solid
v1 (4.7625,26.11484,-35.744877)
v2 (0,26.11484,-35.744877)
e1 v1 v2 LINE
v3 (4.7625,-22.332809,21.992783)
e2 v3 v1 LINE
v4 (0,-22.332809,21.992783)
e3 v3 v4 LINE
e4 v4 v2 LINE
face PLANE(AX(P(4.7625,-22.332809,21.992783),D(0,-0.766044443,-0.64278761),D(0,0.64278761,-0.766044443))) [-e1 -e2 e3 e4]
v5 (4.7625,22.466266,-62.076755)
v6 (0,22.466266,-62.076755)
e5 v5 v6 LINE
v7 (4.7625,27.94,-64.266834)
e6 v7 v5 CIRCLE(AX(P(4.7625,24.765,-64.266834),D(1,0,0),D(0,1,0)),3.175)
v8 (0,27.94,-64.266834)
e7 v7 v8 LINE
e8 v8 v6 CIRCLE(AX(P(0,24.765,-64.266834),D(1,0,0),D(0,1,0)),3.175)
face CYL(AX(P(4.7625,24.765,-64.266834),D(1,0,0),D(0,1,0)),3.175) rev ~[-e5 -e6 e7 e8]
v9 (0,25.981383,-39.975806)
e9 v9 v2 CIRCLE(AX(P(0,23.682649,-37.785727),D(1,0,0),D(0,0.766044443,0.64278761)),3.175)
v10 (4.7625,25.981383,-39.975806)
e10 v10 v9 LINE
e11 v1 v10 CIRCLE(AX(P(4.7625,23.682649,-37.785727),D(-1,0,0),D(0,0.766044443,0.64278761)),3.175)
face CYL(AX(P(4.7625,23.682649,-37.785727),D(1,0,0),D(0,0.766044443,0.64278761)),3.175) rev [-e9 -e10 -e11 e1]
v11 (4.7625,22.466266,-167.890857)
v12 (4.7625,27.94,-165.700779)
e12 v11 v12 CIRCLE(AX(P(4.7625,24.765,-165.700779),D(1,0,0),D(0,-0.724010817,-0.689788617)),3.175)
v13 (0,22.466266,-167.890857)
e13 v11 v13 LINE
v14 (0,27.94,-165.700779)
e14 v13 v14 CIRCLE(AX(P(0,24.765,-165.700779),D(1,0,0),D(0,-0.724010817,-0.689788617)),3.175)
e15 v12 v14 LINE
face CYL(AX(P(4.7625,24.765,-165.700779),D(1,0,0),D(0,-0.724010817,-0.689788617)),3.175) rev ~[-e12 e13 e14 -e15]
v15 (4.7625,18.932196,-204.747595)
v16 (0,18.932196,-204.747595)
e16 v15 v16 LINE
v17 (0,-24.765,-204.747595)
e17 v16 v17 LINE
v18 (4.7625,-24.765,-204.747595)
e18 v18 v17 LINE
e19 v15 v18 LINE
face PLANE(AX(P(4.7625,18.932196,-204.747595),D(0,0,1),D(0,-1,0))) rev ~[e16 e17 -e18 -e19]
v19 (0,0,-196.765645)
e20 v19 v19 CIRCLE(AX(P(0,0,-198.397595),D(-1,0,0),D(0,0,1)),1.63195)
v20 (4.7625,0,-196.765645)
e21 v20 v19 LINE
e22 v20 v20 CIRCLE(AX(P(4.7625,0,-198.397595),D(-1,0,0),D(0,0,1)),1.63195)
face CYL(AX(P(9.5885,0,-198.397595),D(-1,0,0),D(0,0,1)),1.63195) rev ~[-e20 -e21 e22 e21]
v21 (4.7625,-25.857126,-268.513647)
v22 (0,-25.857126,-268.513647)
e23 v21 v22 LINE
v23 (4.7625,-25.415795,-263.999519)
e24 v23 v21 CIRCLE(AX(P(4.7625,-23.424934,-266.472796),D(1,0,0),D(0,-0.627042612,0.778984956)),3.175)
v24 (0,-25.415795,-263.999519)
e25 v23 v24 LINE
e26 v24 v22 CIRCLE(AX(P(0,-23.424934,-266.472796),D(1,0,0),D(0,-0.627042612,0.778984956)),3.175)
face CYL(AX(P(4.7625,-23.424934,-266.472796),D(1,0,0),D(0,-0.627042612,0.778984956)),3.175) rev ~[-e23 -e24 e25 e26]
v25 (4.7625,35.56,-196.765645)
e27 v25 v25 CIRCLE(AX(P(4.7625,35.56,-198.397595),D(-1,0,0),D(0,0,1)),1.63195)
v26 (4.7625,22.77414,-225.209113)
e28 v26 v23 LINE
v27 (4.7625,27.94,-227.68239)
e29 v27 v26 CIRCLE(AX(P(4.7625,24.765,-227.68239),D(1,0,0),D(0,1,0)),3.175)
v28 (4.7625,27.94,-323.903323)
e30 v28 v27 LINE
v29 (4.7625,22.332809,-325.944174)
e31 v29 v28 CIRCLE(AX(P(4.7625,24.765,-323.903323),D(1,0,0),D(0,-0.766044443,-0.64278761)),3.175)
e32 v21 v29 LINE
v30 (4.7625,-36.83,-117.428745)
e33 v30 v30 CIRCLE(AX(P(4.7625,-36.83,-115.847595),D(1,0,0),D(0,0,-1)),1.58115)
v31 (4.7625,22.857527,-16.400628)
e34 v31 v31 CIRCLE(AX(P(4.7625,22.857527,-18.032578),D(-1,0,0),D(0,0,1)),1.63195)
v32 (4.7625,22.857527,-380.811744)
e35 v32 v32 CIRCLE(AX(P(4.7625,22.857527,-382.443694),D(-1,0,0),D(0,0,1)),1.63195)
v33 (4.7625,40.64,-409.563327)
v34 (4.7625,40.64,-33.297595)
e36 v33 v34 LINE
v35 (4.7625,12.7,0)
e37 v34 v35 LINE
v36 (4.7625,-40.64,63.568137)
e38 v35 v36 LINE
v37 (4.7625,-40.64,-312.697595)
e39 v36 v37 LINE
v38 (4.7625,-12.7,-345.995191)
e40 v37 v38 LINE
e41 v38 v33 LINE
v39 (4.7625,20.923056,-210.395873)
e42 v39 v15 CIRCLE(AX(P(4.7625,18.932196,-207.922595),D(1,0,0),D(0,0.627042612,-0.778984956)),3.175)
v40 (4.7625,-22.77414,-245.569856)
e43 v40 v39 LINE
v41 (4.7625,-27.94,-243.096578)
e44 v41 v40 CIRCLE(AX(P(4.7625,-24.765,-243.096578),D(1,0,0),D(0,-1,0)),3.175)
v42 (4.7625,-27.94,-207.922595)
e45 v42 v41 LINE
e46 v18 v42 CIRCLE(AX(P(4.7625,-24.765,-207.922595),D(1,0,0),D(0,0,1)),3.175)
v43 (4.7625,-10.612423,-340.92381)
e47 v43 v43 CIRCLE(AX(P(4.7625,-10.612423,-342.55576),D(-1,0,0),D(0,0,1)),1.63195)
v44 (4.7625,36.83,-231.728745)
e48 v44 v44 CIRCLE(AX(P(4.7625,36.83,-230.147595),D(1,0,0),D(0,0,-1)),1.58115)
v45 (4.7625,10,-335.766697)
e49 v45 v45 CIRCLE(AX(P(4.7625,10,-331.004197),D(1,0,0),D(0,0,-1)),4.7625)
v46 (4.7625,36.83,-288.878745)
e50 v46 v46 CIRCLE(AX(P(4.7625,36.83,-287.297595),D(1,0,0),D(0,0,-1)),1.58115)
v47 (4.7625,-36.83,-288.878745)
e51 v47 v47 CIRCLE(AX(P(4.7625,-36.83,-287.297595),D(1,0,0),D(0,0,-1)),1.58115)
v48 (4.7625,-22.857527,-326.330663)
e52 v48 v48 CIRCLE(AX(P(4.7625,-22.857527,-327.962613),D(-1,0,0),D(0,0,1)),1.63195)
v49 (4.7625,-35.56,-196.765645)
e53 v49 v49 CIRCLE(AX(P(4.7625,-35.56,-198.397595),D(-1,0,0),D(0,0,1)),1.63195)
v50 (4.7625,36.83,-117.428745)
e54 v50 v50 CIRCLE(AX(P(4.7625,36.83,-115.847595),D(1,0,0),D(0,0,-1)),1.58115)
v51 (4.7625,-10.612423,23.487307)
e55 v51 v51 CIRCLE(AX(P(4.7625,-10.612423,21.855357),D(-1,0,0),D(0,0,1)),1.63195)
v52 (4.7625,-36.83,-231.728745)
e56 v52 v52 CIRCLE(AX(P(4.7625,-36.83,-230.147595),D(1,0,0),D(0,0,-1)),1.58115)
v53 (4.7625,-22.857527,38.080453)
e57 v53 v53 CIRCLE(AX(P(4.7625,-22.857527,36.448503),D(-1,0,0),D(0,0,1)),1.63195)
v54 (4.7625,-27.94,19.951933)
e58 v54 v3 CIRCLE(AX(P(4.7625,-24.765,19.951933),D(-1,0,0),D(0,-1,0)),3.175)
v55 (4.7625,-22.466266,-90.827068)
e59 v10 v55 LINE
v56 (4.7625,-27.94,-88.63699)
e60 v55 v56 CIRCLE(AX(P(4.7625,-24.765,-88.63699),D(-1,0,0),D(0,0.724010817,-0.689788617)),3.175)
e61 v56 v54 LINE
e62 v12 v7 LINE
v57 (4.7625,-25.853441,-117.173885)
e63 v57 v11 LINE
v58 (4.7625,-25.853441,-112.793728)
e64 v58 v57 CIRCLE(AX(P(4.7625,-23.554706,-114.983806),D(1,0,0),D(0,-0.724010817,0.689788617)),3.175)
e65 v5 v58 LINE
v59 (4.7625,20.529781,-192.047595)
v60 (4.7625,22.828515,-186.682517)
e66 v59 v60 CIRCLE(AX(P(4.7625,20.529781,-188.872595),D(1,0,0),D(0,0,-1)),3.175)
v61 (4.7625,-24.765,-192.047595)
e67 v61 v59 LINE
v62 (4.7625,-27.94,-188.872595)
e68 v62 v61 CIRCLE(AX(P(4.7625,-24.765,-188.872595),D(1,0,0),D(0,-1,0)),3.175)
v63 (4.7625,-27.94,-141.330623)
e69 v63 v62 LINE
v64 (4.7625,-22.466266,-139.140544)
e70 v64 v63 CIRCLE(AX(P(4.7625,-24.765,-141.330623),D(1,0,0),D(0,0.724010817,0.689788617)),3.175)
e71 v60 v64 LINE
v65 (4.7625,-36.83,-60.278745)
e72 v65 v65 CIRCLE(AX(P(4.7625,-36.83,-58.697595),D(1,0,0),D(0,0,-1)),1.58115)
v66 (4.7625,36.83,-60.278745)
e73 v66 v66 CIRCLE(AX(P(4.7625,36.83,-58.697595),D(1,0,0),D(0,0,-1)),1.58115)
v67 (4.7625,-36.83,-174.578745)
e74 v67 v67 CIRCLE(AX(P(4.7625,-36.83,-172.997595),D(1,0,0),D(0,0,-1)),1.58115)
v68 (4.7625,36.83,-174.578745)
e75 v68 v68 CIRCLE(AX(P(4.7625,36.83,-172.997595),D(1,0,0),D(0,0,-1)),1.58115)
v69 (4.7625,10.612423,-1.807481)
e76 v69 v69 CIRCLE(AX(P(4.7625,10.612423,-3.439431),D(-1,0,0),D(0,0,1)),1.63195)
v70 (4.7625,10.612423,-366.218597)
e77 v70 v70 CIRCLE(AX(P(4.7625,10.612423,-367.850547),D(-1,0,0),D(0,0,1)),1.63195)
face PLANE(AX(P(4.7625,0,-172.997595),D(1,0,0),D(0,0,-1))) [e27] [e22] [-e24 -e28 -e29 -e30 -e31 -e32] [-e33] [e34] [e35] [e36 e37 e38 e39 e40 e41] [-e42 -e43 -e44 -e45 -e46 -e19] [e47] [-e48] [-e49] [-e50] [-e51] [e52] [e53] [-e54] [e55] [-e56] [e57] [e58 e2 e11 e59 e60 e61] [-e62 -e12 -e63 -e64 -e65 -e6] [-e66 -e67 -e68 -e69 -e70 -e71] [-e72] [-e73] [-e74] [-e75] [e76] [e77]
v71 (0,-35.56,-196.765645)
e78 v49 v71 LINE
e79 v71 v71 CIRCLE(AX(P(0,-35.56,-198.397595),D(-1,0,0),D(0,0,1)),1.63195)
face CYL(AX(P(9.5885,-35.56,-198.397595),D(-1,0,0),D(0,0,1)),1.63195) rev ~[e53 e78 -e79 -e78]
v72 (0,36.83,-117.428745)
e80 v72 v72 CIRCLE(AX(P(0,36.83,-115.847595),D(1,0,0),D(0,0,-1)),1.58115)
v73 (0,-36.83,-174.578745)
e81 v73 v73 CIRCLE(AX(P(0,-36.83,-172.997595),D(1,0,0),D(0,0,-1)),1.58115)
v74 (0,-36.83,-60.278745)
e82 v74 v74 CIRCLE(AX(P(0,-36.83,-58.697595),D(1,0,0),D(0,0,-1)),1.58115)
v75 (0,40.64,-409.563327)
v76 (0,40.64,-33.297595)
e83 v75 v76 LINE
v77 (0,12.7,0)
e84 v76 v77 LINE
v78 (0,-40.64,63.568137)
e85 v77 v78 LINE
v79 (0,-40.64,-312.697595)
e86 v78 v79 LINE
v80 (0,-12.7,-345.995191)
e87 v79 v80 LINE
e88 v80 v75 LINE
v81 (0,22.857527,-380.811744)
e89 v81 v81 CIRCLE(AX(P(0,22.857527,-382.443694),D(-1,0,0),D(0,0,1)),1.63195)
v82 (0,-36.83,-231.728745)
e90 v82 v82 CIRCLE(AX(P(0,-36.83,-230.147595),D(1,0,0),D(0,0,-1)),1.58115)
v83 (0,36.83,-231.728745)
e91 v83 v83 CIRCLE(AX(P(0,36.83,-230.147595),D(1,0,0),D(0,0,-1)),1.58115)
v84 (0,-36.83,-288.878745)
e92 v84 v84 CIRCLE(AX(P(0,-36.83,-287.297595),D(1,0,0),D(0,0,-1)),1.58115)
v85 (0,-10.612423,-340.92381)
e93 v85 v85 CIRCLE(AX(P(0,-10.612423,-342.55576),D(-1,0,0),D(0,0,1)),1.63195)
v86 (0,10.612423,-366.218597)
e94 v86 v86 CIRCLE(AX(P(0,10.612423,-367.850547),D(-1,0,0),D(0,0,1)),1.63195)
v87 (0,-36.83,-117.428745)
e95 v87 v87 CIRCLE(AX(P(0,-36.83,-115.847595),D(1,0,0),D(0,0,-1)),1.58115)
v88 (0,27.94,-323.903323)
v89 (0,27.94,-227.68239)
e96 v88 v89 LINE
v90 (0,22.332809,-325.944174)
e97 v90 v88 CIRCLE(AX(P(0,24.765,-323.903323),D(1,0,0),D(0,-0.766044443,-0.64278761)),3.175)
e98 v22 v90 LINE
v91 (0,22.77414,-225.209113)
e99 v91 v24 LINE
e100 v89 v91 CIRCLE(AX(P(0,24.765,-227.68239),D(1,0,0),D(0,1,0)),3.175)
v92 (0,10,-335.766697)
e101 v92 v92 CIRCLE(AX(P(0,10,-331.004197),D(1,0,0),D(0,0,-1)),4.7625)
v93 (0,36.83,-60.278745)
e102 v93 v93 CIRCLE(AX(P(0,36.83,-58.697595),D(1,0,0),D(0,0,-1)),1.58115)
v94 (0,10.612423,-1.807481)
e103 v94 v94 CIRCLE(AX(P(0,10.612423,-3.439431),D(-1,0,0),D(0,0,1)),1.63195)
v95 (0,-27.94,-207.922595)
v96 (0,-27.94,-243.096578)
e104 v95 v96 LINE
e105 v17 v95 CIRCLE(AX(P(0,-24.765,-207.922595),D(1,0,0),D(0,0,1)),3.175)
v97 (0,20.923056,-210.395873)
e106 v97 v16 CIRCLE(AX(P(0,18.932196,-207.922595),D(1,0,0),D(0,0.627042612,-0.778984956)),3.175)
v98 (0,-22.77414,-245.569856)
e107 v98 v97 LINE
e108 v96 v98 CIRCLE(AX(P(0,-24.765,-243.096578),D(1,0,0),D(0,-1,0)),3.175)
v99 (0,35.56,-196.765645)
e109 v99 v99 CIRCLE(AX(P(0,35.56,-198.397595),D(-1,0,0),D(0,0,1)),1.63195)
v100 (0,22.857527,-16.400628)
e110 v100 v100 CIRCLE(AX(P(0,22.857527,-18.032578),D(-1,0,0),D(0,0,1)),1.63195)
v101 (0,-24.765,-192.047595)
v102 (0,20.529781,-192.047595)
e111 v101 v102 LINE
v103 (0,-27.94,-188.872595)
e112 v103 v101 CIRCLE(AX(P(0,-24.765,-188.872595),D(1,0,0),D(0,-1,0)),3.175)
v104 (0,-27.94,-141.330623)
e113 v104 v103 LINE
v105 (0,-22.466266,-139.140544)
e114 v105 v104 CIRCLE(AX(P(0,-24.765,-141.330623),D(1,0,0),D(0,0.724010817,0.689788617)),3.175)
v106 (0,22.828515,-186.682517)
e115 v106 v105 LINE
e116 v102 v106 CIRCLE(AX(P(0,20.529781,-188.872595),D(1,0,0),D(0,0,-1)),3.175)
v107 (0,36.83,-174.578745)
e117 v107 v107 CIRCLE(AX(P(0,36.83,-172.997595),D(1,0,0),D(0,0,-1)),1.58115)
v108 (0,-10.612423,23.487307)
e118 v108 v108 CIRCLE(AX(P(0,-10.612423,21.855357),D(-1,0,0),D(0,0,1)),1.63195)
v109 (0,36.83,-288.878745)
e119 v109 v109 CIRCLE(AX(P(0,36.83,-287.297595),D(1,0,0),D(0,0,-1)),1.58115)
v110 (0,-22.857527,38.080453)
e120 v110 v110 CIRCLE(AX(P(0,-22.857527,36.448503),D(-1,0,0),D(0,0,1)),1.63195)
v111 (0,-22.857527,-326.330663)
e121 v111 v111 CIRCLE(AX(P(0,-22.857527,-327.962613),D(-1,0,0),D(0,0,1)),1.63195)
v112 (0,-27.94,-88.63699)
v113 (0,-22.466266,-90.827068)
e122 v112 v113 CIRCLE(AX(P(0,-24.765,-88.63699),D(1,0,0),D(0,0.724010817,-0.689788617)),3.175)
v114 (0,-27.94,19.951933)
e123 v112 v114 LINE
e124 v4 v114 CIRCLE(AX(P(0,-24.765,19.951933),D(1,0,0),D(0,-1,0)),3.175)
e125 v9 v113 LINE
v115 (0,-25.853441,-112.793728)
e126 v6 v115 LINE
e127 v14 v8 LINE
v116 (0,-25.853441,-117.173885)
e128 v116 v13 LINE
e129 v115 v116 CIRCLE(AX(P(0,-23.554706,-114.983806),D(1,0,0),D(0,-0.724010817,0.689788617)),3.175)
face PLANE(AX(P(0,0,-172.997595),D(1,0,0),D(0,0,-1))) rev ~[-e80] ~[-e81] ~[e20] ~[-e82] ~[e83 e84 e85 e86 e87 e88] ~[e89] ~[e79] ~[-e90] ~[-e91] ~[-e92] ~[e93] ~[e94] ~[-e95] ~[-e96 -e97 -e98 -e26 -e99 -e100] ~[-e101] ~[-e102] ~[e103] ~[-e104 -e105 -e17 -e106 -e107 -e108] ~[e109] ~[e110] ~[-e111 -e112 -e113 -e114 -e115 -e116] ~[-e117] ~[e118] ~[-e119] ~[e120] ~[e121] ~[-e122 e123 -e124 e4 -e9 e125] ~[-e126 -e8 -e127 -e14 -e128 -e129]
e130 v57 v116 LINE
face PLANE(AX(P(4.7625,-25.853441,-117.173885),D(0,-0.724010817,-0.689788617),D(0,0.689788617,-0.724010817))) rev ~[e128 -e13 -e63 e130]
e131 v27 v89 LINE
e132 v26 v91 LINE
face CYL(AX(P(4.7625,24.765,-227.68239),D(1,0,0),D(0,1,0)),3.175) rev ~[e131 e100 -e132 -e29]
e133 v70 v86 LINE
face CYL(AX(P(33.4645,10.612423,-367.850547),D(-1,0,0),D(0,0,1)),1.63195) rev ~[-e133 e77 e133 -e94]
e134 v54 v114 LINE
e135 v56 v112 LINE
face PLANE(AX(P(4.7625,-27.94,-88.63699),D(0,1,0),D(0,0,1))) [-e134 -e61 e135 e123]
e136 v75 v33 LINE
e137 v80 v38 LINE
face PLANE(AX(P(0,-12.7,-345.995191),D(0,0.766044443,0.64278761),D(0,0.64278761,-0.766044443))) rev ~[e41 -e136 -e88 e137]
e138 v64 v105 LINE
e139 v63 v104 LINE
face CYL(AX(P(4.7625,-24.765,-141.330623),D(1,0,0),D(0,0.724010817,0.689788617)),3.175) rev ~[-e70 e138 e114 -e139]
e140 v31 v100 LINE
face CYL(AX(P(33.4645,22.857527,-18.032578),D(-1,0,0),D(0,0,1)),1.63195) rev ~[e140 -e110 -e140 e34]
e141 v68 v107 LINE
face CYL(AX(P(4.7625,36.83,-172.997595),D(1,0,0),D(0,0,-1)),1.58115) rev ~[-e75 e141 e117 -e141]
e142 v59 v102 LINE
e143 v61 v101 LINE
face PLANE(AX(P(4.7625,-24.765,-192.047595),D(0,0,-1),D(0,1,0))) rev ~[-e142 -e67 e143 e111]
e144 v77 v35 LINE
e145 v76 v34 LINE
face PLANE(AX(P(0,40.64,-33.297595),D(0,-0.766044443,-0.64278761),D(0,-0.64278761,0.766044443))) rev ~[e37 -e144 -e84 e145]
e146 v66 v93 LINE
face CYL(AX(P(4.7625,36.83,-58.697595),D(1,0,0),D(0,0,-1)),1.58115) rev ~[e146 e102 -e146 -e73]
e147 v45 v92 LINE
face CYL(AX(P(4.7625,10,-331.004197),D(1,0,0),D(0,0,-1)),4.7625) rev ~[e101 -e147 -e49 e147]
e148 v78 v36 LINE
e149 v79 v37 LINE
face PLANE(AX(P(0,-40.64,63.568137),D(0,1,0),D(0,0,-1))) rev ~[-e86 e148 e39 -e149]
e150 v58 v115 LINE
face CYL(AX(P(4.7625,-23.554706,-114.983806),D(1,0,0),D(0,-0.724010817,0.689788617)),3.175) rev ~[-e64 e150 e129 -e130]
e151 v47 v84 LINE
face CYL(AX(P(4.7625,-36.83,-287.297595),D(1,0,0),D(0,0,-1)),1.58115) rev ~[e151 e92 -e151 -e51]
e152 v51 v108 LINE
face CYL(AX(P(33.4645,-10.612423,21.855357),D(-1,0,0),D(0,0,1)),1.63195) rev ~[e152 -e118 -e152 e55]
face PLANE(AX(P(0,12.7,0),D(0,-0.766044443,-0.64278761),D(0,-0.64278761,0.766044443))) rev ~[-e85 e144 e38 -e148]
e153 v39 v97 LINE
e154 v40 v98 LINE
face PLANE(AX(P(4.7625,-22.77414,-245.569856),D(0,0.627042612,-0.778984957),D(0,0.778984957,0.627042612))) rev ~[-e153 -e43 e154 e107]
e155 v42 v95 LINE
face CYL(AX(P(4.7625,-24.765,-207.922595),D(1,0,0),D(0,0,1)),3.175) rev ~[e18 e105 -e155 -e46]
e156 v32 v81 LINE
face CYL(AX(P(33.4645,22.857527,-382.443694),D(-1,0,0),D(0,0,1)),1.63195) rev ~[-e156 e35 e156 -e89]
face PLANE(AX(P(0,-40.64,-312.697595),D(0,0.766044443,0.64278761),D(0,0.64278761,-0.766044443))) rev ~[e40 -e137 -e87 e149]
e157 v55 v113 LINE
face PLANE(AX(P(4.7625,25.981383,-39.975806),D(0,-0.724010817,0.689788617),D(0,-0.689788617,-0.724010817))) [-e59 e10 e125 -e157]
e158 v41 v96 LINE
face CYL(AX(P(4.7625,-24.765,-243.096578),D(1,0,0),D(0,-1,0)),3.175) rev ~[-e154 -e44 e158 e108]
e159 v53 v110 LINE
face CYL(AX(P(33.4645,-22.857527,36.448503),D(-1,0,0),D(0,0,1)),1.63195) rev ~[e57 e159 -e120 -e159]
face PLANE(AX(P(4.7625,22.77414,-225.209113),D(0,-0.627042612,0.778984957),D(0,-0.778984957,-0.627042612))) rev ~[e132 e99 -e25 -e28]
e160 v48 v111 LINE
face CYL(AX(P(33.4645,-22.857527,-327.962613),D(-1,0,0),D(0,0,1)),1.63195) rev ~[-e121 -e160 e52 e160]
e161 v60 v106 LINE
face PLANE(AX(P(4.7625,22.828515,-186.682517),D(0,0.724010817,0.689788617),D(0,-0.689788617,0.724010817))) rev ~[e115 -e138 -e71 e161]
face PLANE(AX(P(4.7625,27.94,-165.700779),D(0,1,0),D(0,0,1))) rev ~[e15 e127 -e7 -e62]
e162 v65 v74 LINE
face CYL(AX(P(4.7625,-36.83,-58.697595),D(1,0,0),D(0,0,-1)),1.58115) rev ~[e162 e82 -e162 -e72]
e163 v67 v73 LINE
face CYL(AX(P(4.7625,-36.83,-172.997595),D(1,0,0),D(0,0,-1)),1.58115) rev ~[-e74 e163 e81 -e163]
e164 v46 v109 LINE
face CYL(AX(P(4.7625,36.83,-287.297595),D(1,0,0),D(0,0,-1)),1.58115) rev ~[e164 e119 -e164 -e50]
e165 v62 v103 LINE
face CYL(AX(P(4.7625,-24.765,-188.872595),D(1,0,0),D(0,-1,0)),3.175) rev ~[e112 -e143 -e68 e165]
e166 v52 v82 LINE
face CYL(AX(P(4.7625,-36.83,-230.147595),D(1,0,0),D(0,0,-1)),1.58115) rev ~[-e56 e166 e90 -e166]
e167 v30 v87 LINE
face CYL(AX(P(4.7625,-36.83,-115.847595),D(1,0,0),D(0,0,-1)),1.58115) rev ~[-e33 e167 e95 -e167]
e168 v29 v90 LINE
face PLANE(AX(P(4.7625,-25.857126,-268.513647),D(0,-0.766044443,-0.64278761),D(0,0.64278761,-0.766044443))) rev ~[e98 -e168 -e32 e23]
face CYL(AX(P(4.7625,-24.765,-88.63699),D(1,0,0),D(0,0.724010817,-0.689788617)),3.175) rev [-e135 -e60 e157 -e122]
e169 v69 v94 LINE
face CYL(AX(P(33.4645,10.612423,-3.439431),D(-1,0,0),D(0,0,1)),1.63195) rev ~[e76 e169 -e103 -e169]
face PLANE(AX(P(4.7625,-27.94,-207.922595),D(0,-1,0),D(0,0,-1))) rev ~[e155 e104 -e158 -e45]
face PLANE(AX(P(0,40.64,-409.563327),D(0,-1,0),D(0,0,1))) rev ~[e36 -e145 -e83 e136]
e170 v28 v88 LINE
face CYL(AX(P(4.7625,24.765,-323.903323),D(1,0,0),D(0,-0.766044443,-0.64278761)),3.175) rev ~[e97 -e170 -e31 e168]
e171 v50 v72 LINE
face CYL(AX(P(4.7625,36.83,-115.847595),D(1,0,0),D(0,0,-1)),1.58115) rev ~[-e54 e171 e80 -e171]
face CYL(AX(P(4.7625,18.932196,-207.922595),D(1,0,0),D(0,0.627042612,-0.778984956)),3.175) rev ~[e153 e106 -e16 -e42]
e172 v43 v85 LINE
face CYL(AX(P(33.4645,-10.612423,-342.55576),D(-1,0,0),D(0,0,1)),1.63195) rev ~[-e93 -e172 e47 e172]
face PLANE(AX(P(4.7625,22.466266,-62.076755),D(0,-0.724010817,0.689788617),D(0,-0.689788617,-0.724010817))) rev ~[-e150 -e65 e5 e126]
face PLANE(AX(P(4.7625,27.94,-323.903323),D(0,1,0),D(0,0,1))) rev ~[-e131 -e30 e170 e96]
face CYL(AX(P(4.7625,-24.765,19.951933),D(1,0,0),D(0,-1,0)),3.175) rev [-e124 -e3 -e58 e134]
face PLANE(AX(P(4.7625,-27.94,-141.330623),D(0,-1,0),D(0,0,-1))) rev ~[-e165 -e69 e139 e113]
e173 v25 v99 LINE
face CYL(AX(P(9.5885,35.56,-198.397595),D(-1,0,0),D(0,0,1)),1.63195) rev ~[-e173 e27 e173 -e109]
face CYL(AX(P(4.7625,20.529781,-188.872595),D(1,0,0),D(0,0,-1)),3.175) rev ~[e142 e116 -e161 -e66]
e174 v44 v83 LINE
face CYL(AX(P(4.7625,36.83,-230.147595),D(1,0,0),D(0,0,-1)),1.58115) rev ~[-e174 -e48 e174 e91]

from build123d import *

# Parameters (mm, degrees)
BOSS_EXTRUDE1_DEPTH           = 4.7625
SKETCH2_R                     = 4.7625
GEARBOX_WITH_PRESS_FITS_DEPTH = 412.602247496
SKETCH3_R                     = 1.58115
CUT_EXTRUDE1_DEPTH            = 412.602247496
F_4_CLEARANCE_HOLE2_D         = 3.2639
F_4_CLEARANCE_HOLE2_DEPTH     = 28.702
F_4_CLEARANCE_HOLE2_TIP       = 0.980574487
F_4_CLEARANCE_HOLE1_D         = 3.2639
F_4_CLEARANCE_HOLE1_DEPTH     = 4.826
F_4_CLEARANCE_HOLE1_TIP       = 0.980574487
CUT_EXTRUDE2_DEPTH            = 412.602247496


with BuildPart() as part:
    # Sketch1 → Boss-Extrude1 (new body)
    with BuildSketch(Plane(origin=(0, 0, 0), x_dir=(0, 0, -1), z_dir=(1, 0, 0))):
        Polygon((33.297595377, -40.64), (312.697595377, -40.64), (345.995190754, -12.7), (409.563327383, 40.64), (312.697595377, 40.64), (33.297595377, 40.64), (0, 12.7), (-63.568136629, -40.64), align=None)
    extrude(amount=BOSS_EXTRUDE1_DEPTH)

    # Sketch2 → Gearbox (with Press fits) (cut, through all)
    with BuildSketch(Plane(origin=(4.7625, 0, 0), x_dir=(0, 0, -1), z_dir=(1, 0, 0))):
        with Locations((331.004197306, 10)):
            Circle(SKETCH2_R)
    extrude(amount=-GEARBOX_WITH_PRESS_FITS_DEPTH, mode=Mode.SUBTRACT)

    # Sketch3 → Cut-Extrude1 (cut, through all)
    with BuildSketch(Plane(origin=(4.7625, 0, 0), x_dir=(0, 0, -1), z_dir=(1, 0, 0))):
        with Locations((287.297595377, 36.83)):
            Circle(SKETCH3_R)
        with Locations((230.147595377, 36.83)):
            Circle(SKETCH3_R)
        with Locations((172.997595377, 36.83)):
            Circle(SKETCH3_R)
        with Locations((115.847595377, 36.83)):
            Circle(SKETCH3_R)
        with Locations((58.697595377, 36.83)):
            Circle(SKETCH3_R)
        with Locations((58.697595377, -36.83)):
            Circle(SKETCH3_R)
        with Locations((115.847595377, -36.83)):
            Circle(SKETCH3_R)
        with Locations((172.997595377, -36.83)):
            Circle(SKETCH3_R)
        with Locations((230.147595377, -36.83)):
            Circle(SKETCH3_R)
        with Locations((287.297595377, -36.83)):
            Circle(SKETCH3_R)
    extrude(amount=-CUT_EXTRUDE1_DEPTH, mode=Mode.SUBTRACT)

    # #4 Clearance Hole2
    with Locations(Plane(origin=(4.7625, 0, 0), x_dir=(0, 0, -1), z_dir=(1, 0, 0))):
        with Locations((327.962613202, -22.8575274), (342.555759844, -10.612423436), (367.850547356, 10.612423436), (382.443693997, 22.8575274), (18.032577552, 22.8575274), (3.43943091, 10.612423436), (-21.855356602, -10.612423436), (-36.448503243, -22.8575274)):
            Hole(F_4_CLEARANCE_HOLE2_D / 2, depth=F_4_CLEARANCE_HOLE2_DEPTH)
            with Locations((0, 0, -(F_4_CLEARANCE_HOLE2_DEPTH + F_4_CLEARANCE_HOLE2_TIP / 2))):  # 118° drill point
                Cone(0, F_4_CLEARANCE_HOLE2_D / 2, F_4_CLEARANCE_HOLE2_TIP, mode=Mode.SUBTRACT)

    # #4 Clearance Hole1
    with Locations(Plane(origin=(4.7625, 0, 0), x_dir=(0, 0, -1), z_dir=(1, 0, 0))):
        with Locations((198.397595377, 35.56), (198.397595377, -35.56), (198.397595377, 0)):
            Hole(F_4_CLEARANCE_HOLE1_D / 2, depth=F_4_CLEARANCE_HOLE1_DEPTH)
            with Locations((0, 0, -(F_4_CLEARANCE_HOLE1_DEPTH + F_4_CLEARANCE_HOLE1_TIP / 2))):  # 118° drill point
                Cone(0, F_4_CLEARANCE_HOLE1_D / 2, F_4_CLEARANCE_HOLE1_TIP, mode=Mode.SUBTRACT)

    # Sketch11 → Cut-Extrude2 (cut, through all)
    with BuildSketch(Plane(origin=(4.7625, 0, 0), x_dir=(0, 0, -1), z_dir=(1, 0, 0))):
        with BuildLine():
            Line((-21.992783256, -22.332808893), (35.744876514, 26.114840125))
            ThreePointArc((35.744876514, 26.114840125), (37.885826828, 26.856070682), (39.975806034, 25.981383362))
            Line((39.975806034, 25.981383362), (90.827068404, -22.466265655))
            ThreePointArc((90.827068404, -22.466265655), (91.584794367, -25.944437039), (88.636989544, -27.94))
            Line((88.636989544, -27.94), (-19.951932595, -27.94))
            ThreePointArc((-19.951932595, -27.94), (-22.935456666, -25.850913955), (-21.992783256, -22.332808893))
        make_face()
        with BuildLine():
            Line((62.076755313, 22.466265655), (112.793727505, -25.853440749))
            ThreePointArc((112.793727505, -25.853440749), (114.983806365, -26.729706404), (117.173885225, -25.853440749))
            Line((117.173885225, -25.853440749), (167.890857417, 22.466265655))
            ThreePointArc((167.890857417, 22.466265655), (168.648583379, 25.944437039), (165.700778557, 27.94))
            Line((165.700778557, 27.94), (64.266834173, 27.94))
            ThreePointArc((64.266834173, 27.94), (61.31902935, 25.944437039), (62.076755313, 22.466265655))
        make_face()
        with BuildLine():
            Line((186.682516517, 22.828515143), (139.140544325, -22.466265655))
            ThreePointArc((139.140544325, -22.466265655), (138.382818363, -25.944437039), (141.330623185, -27.94))
            Line((141.330623185, -27.94), (188.872595377, -27.94))
            ThreePointArc((188.872595377, -27.94), (191.117659407, -27.01006403), (192.047595377, -24.765))
            Line((192.047595377, -24.765), (192.047595377, 20.529780798))
            ThreePointArc((192.047595377, 20.529780798), (190.123020229, 23.448181506), (186.682516517, 22.828515143))
        make_face()
        with BuildLine():
            Line((204.747595377, 18.932195541), (204.747595377, -24.765))
            ThreePointArc((204.747595377, -24.765), (205.677531347, -27.01006403), (207.922595377, -27.94))
            Line((207.922595377, -27.94), (243.096578394, -27.94))
            ThreePointArc((243.096578394, -27.94), (245.960282851, -26.13606593), (245.569855632, -22.774139707))
            Line((245.569855632, -22.774139707), (210.395872614, 20.923055835))
            ThreePointArc((210.395872614, 20.923055835), (206.867140553, 21.926630398), (204.747595377, 18.932195541))
        make_face()
        with BuildLine():
            Line((225.209113147, 22.774139707), (263.999518653, -25.415794703))
            ThreePointArc((263.999518653, -25.415794703), (266.163859962, -26.584868521), (268.513646551, -25.857125516))
            Line((268.513646551, -25.857125516), (325.94417401, 22.332808893))
            ThreePointArc((325.94417401, 22.332808893), (326.88684742, 25.850913955), (323.903323349, 27.94))
            Line((323.903323349, 27.94), (227.682390385, 27.94))
            ThreePointArc((227.682390385, 27.94), (224.818685928, 26.13606593), (225.209113147, 22.774139707))
        make_face()
    extrude(amount=-CUT_EXTRUDE2_DEPTH, mode=Mode.SUBTRACT)


solid = part.part
